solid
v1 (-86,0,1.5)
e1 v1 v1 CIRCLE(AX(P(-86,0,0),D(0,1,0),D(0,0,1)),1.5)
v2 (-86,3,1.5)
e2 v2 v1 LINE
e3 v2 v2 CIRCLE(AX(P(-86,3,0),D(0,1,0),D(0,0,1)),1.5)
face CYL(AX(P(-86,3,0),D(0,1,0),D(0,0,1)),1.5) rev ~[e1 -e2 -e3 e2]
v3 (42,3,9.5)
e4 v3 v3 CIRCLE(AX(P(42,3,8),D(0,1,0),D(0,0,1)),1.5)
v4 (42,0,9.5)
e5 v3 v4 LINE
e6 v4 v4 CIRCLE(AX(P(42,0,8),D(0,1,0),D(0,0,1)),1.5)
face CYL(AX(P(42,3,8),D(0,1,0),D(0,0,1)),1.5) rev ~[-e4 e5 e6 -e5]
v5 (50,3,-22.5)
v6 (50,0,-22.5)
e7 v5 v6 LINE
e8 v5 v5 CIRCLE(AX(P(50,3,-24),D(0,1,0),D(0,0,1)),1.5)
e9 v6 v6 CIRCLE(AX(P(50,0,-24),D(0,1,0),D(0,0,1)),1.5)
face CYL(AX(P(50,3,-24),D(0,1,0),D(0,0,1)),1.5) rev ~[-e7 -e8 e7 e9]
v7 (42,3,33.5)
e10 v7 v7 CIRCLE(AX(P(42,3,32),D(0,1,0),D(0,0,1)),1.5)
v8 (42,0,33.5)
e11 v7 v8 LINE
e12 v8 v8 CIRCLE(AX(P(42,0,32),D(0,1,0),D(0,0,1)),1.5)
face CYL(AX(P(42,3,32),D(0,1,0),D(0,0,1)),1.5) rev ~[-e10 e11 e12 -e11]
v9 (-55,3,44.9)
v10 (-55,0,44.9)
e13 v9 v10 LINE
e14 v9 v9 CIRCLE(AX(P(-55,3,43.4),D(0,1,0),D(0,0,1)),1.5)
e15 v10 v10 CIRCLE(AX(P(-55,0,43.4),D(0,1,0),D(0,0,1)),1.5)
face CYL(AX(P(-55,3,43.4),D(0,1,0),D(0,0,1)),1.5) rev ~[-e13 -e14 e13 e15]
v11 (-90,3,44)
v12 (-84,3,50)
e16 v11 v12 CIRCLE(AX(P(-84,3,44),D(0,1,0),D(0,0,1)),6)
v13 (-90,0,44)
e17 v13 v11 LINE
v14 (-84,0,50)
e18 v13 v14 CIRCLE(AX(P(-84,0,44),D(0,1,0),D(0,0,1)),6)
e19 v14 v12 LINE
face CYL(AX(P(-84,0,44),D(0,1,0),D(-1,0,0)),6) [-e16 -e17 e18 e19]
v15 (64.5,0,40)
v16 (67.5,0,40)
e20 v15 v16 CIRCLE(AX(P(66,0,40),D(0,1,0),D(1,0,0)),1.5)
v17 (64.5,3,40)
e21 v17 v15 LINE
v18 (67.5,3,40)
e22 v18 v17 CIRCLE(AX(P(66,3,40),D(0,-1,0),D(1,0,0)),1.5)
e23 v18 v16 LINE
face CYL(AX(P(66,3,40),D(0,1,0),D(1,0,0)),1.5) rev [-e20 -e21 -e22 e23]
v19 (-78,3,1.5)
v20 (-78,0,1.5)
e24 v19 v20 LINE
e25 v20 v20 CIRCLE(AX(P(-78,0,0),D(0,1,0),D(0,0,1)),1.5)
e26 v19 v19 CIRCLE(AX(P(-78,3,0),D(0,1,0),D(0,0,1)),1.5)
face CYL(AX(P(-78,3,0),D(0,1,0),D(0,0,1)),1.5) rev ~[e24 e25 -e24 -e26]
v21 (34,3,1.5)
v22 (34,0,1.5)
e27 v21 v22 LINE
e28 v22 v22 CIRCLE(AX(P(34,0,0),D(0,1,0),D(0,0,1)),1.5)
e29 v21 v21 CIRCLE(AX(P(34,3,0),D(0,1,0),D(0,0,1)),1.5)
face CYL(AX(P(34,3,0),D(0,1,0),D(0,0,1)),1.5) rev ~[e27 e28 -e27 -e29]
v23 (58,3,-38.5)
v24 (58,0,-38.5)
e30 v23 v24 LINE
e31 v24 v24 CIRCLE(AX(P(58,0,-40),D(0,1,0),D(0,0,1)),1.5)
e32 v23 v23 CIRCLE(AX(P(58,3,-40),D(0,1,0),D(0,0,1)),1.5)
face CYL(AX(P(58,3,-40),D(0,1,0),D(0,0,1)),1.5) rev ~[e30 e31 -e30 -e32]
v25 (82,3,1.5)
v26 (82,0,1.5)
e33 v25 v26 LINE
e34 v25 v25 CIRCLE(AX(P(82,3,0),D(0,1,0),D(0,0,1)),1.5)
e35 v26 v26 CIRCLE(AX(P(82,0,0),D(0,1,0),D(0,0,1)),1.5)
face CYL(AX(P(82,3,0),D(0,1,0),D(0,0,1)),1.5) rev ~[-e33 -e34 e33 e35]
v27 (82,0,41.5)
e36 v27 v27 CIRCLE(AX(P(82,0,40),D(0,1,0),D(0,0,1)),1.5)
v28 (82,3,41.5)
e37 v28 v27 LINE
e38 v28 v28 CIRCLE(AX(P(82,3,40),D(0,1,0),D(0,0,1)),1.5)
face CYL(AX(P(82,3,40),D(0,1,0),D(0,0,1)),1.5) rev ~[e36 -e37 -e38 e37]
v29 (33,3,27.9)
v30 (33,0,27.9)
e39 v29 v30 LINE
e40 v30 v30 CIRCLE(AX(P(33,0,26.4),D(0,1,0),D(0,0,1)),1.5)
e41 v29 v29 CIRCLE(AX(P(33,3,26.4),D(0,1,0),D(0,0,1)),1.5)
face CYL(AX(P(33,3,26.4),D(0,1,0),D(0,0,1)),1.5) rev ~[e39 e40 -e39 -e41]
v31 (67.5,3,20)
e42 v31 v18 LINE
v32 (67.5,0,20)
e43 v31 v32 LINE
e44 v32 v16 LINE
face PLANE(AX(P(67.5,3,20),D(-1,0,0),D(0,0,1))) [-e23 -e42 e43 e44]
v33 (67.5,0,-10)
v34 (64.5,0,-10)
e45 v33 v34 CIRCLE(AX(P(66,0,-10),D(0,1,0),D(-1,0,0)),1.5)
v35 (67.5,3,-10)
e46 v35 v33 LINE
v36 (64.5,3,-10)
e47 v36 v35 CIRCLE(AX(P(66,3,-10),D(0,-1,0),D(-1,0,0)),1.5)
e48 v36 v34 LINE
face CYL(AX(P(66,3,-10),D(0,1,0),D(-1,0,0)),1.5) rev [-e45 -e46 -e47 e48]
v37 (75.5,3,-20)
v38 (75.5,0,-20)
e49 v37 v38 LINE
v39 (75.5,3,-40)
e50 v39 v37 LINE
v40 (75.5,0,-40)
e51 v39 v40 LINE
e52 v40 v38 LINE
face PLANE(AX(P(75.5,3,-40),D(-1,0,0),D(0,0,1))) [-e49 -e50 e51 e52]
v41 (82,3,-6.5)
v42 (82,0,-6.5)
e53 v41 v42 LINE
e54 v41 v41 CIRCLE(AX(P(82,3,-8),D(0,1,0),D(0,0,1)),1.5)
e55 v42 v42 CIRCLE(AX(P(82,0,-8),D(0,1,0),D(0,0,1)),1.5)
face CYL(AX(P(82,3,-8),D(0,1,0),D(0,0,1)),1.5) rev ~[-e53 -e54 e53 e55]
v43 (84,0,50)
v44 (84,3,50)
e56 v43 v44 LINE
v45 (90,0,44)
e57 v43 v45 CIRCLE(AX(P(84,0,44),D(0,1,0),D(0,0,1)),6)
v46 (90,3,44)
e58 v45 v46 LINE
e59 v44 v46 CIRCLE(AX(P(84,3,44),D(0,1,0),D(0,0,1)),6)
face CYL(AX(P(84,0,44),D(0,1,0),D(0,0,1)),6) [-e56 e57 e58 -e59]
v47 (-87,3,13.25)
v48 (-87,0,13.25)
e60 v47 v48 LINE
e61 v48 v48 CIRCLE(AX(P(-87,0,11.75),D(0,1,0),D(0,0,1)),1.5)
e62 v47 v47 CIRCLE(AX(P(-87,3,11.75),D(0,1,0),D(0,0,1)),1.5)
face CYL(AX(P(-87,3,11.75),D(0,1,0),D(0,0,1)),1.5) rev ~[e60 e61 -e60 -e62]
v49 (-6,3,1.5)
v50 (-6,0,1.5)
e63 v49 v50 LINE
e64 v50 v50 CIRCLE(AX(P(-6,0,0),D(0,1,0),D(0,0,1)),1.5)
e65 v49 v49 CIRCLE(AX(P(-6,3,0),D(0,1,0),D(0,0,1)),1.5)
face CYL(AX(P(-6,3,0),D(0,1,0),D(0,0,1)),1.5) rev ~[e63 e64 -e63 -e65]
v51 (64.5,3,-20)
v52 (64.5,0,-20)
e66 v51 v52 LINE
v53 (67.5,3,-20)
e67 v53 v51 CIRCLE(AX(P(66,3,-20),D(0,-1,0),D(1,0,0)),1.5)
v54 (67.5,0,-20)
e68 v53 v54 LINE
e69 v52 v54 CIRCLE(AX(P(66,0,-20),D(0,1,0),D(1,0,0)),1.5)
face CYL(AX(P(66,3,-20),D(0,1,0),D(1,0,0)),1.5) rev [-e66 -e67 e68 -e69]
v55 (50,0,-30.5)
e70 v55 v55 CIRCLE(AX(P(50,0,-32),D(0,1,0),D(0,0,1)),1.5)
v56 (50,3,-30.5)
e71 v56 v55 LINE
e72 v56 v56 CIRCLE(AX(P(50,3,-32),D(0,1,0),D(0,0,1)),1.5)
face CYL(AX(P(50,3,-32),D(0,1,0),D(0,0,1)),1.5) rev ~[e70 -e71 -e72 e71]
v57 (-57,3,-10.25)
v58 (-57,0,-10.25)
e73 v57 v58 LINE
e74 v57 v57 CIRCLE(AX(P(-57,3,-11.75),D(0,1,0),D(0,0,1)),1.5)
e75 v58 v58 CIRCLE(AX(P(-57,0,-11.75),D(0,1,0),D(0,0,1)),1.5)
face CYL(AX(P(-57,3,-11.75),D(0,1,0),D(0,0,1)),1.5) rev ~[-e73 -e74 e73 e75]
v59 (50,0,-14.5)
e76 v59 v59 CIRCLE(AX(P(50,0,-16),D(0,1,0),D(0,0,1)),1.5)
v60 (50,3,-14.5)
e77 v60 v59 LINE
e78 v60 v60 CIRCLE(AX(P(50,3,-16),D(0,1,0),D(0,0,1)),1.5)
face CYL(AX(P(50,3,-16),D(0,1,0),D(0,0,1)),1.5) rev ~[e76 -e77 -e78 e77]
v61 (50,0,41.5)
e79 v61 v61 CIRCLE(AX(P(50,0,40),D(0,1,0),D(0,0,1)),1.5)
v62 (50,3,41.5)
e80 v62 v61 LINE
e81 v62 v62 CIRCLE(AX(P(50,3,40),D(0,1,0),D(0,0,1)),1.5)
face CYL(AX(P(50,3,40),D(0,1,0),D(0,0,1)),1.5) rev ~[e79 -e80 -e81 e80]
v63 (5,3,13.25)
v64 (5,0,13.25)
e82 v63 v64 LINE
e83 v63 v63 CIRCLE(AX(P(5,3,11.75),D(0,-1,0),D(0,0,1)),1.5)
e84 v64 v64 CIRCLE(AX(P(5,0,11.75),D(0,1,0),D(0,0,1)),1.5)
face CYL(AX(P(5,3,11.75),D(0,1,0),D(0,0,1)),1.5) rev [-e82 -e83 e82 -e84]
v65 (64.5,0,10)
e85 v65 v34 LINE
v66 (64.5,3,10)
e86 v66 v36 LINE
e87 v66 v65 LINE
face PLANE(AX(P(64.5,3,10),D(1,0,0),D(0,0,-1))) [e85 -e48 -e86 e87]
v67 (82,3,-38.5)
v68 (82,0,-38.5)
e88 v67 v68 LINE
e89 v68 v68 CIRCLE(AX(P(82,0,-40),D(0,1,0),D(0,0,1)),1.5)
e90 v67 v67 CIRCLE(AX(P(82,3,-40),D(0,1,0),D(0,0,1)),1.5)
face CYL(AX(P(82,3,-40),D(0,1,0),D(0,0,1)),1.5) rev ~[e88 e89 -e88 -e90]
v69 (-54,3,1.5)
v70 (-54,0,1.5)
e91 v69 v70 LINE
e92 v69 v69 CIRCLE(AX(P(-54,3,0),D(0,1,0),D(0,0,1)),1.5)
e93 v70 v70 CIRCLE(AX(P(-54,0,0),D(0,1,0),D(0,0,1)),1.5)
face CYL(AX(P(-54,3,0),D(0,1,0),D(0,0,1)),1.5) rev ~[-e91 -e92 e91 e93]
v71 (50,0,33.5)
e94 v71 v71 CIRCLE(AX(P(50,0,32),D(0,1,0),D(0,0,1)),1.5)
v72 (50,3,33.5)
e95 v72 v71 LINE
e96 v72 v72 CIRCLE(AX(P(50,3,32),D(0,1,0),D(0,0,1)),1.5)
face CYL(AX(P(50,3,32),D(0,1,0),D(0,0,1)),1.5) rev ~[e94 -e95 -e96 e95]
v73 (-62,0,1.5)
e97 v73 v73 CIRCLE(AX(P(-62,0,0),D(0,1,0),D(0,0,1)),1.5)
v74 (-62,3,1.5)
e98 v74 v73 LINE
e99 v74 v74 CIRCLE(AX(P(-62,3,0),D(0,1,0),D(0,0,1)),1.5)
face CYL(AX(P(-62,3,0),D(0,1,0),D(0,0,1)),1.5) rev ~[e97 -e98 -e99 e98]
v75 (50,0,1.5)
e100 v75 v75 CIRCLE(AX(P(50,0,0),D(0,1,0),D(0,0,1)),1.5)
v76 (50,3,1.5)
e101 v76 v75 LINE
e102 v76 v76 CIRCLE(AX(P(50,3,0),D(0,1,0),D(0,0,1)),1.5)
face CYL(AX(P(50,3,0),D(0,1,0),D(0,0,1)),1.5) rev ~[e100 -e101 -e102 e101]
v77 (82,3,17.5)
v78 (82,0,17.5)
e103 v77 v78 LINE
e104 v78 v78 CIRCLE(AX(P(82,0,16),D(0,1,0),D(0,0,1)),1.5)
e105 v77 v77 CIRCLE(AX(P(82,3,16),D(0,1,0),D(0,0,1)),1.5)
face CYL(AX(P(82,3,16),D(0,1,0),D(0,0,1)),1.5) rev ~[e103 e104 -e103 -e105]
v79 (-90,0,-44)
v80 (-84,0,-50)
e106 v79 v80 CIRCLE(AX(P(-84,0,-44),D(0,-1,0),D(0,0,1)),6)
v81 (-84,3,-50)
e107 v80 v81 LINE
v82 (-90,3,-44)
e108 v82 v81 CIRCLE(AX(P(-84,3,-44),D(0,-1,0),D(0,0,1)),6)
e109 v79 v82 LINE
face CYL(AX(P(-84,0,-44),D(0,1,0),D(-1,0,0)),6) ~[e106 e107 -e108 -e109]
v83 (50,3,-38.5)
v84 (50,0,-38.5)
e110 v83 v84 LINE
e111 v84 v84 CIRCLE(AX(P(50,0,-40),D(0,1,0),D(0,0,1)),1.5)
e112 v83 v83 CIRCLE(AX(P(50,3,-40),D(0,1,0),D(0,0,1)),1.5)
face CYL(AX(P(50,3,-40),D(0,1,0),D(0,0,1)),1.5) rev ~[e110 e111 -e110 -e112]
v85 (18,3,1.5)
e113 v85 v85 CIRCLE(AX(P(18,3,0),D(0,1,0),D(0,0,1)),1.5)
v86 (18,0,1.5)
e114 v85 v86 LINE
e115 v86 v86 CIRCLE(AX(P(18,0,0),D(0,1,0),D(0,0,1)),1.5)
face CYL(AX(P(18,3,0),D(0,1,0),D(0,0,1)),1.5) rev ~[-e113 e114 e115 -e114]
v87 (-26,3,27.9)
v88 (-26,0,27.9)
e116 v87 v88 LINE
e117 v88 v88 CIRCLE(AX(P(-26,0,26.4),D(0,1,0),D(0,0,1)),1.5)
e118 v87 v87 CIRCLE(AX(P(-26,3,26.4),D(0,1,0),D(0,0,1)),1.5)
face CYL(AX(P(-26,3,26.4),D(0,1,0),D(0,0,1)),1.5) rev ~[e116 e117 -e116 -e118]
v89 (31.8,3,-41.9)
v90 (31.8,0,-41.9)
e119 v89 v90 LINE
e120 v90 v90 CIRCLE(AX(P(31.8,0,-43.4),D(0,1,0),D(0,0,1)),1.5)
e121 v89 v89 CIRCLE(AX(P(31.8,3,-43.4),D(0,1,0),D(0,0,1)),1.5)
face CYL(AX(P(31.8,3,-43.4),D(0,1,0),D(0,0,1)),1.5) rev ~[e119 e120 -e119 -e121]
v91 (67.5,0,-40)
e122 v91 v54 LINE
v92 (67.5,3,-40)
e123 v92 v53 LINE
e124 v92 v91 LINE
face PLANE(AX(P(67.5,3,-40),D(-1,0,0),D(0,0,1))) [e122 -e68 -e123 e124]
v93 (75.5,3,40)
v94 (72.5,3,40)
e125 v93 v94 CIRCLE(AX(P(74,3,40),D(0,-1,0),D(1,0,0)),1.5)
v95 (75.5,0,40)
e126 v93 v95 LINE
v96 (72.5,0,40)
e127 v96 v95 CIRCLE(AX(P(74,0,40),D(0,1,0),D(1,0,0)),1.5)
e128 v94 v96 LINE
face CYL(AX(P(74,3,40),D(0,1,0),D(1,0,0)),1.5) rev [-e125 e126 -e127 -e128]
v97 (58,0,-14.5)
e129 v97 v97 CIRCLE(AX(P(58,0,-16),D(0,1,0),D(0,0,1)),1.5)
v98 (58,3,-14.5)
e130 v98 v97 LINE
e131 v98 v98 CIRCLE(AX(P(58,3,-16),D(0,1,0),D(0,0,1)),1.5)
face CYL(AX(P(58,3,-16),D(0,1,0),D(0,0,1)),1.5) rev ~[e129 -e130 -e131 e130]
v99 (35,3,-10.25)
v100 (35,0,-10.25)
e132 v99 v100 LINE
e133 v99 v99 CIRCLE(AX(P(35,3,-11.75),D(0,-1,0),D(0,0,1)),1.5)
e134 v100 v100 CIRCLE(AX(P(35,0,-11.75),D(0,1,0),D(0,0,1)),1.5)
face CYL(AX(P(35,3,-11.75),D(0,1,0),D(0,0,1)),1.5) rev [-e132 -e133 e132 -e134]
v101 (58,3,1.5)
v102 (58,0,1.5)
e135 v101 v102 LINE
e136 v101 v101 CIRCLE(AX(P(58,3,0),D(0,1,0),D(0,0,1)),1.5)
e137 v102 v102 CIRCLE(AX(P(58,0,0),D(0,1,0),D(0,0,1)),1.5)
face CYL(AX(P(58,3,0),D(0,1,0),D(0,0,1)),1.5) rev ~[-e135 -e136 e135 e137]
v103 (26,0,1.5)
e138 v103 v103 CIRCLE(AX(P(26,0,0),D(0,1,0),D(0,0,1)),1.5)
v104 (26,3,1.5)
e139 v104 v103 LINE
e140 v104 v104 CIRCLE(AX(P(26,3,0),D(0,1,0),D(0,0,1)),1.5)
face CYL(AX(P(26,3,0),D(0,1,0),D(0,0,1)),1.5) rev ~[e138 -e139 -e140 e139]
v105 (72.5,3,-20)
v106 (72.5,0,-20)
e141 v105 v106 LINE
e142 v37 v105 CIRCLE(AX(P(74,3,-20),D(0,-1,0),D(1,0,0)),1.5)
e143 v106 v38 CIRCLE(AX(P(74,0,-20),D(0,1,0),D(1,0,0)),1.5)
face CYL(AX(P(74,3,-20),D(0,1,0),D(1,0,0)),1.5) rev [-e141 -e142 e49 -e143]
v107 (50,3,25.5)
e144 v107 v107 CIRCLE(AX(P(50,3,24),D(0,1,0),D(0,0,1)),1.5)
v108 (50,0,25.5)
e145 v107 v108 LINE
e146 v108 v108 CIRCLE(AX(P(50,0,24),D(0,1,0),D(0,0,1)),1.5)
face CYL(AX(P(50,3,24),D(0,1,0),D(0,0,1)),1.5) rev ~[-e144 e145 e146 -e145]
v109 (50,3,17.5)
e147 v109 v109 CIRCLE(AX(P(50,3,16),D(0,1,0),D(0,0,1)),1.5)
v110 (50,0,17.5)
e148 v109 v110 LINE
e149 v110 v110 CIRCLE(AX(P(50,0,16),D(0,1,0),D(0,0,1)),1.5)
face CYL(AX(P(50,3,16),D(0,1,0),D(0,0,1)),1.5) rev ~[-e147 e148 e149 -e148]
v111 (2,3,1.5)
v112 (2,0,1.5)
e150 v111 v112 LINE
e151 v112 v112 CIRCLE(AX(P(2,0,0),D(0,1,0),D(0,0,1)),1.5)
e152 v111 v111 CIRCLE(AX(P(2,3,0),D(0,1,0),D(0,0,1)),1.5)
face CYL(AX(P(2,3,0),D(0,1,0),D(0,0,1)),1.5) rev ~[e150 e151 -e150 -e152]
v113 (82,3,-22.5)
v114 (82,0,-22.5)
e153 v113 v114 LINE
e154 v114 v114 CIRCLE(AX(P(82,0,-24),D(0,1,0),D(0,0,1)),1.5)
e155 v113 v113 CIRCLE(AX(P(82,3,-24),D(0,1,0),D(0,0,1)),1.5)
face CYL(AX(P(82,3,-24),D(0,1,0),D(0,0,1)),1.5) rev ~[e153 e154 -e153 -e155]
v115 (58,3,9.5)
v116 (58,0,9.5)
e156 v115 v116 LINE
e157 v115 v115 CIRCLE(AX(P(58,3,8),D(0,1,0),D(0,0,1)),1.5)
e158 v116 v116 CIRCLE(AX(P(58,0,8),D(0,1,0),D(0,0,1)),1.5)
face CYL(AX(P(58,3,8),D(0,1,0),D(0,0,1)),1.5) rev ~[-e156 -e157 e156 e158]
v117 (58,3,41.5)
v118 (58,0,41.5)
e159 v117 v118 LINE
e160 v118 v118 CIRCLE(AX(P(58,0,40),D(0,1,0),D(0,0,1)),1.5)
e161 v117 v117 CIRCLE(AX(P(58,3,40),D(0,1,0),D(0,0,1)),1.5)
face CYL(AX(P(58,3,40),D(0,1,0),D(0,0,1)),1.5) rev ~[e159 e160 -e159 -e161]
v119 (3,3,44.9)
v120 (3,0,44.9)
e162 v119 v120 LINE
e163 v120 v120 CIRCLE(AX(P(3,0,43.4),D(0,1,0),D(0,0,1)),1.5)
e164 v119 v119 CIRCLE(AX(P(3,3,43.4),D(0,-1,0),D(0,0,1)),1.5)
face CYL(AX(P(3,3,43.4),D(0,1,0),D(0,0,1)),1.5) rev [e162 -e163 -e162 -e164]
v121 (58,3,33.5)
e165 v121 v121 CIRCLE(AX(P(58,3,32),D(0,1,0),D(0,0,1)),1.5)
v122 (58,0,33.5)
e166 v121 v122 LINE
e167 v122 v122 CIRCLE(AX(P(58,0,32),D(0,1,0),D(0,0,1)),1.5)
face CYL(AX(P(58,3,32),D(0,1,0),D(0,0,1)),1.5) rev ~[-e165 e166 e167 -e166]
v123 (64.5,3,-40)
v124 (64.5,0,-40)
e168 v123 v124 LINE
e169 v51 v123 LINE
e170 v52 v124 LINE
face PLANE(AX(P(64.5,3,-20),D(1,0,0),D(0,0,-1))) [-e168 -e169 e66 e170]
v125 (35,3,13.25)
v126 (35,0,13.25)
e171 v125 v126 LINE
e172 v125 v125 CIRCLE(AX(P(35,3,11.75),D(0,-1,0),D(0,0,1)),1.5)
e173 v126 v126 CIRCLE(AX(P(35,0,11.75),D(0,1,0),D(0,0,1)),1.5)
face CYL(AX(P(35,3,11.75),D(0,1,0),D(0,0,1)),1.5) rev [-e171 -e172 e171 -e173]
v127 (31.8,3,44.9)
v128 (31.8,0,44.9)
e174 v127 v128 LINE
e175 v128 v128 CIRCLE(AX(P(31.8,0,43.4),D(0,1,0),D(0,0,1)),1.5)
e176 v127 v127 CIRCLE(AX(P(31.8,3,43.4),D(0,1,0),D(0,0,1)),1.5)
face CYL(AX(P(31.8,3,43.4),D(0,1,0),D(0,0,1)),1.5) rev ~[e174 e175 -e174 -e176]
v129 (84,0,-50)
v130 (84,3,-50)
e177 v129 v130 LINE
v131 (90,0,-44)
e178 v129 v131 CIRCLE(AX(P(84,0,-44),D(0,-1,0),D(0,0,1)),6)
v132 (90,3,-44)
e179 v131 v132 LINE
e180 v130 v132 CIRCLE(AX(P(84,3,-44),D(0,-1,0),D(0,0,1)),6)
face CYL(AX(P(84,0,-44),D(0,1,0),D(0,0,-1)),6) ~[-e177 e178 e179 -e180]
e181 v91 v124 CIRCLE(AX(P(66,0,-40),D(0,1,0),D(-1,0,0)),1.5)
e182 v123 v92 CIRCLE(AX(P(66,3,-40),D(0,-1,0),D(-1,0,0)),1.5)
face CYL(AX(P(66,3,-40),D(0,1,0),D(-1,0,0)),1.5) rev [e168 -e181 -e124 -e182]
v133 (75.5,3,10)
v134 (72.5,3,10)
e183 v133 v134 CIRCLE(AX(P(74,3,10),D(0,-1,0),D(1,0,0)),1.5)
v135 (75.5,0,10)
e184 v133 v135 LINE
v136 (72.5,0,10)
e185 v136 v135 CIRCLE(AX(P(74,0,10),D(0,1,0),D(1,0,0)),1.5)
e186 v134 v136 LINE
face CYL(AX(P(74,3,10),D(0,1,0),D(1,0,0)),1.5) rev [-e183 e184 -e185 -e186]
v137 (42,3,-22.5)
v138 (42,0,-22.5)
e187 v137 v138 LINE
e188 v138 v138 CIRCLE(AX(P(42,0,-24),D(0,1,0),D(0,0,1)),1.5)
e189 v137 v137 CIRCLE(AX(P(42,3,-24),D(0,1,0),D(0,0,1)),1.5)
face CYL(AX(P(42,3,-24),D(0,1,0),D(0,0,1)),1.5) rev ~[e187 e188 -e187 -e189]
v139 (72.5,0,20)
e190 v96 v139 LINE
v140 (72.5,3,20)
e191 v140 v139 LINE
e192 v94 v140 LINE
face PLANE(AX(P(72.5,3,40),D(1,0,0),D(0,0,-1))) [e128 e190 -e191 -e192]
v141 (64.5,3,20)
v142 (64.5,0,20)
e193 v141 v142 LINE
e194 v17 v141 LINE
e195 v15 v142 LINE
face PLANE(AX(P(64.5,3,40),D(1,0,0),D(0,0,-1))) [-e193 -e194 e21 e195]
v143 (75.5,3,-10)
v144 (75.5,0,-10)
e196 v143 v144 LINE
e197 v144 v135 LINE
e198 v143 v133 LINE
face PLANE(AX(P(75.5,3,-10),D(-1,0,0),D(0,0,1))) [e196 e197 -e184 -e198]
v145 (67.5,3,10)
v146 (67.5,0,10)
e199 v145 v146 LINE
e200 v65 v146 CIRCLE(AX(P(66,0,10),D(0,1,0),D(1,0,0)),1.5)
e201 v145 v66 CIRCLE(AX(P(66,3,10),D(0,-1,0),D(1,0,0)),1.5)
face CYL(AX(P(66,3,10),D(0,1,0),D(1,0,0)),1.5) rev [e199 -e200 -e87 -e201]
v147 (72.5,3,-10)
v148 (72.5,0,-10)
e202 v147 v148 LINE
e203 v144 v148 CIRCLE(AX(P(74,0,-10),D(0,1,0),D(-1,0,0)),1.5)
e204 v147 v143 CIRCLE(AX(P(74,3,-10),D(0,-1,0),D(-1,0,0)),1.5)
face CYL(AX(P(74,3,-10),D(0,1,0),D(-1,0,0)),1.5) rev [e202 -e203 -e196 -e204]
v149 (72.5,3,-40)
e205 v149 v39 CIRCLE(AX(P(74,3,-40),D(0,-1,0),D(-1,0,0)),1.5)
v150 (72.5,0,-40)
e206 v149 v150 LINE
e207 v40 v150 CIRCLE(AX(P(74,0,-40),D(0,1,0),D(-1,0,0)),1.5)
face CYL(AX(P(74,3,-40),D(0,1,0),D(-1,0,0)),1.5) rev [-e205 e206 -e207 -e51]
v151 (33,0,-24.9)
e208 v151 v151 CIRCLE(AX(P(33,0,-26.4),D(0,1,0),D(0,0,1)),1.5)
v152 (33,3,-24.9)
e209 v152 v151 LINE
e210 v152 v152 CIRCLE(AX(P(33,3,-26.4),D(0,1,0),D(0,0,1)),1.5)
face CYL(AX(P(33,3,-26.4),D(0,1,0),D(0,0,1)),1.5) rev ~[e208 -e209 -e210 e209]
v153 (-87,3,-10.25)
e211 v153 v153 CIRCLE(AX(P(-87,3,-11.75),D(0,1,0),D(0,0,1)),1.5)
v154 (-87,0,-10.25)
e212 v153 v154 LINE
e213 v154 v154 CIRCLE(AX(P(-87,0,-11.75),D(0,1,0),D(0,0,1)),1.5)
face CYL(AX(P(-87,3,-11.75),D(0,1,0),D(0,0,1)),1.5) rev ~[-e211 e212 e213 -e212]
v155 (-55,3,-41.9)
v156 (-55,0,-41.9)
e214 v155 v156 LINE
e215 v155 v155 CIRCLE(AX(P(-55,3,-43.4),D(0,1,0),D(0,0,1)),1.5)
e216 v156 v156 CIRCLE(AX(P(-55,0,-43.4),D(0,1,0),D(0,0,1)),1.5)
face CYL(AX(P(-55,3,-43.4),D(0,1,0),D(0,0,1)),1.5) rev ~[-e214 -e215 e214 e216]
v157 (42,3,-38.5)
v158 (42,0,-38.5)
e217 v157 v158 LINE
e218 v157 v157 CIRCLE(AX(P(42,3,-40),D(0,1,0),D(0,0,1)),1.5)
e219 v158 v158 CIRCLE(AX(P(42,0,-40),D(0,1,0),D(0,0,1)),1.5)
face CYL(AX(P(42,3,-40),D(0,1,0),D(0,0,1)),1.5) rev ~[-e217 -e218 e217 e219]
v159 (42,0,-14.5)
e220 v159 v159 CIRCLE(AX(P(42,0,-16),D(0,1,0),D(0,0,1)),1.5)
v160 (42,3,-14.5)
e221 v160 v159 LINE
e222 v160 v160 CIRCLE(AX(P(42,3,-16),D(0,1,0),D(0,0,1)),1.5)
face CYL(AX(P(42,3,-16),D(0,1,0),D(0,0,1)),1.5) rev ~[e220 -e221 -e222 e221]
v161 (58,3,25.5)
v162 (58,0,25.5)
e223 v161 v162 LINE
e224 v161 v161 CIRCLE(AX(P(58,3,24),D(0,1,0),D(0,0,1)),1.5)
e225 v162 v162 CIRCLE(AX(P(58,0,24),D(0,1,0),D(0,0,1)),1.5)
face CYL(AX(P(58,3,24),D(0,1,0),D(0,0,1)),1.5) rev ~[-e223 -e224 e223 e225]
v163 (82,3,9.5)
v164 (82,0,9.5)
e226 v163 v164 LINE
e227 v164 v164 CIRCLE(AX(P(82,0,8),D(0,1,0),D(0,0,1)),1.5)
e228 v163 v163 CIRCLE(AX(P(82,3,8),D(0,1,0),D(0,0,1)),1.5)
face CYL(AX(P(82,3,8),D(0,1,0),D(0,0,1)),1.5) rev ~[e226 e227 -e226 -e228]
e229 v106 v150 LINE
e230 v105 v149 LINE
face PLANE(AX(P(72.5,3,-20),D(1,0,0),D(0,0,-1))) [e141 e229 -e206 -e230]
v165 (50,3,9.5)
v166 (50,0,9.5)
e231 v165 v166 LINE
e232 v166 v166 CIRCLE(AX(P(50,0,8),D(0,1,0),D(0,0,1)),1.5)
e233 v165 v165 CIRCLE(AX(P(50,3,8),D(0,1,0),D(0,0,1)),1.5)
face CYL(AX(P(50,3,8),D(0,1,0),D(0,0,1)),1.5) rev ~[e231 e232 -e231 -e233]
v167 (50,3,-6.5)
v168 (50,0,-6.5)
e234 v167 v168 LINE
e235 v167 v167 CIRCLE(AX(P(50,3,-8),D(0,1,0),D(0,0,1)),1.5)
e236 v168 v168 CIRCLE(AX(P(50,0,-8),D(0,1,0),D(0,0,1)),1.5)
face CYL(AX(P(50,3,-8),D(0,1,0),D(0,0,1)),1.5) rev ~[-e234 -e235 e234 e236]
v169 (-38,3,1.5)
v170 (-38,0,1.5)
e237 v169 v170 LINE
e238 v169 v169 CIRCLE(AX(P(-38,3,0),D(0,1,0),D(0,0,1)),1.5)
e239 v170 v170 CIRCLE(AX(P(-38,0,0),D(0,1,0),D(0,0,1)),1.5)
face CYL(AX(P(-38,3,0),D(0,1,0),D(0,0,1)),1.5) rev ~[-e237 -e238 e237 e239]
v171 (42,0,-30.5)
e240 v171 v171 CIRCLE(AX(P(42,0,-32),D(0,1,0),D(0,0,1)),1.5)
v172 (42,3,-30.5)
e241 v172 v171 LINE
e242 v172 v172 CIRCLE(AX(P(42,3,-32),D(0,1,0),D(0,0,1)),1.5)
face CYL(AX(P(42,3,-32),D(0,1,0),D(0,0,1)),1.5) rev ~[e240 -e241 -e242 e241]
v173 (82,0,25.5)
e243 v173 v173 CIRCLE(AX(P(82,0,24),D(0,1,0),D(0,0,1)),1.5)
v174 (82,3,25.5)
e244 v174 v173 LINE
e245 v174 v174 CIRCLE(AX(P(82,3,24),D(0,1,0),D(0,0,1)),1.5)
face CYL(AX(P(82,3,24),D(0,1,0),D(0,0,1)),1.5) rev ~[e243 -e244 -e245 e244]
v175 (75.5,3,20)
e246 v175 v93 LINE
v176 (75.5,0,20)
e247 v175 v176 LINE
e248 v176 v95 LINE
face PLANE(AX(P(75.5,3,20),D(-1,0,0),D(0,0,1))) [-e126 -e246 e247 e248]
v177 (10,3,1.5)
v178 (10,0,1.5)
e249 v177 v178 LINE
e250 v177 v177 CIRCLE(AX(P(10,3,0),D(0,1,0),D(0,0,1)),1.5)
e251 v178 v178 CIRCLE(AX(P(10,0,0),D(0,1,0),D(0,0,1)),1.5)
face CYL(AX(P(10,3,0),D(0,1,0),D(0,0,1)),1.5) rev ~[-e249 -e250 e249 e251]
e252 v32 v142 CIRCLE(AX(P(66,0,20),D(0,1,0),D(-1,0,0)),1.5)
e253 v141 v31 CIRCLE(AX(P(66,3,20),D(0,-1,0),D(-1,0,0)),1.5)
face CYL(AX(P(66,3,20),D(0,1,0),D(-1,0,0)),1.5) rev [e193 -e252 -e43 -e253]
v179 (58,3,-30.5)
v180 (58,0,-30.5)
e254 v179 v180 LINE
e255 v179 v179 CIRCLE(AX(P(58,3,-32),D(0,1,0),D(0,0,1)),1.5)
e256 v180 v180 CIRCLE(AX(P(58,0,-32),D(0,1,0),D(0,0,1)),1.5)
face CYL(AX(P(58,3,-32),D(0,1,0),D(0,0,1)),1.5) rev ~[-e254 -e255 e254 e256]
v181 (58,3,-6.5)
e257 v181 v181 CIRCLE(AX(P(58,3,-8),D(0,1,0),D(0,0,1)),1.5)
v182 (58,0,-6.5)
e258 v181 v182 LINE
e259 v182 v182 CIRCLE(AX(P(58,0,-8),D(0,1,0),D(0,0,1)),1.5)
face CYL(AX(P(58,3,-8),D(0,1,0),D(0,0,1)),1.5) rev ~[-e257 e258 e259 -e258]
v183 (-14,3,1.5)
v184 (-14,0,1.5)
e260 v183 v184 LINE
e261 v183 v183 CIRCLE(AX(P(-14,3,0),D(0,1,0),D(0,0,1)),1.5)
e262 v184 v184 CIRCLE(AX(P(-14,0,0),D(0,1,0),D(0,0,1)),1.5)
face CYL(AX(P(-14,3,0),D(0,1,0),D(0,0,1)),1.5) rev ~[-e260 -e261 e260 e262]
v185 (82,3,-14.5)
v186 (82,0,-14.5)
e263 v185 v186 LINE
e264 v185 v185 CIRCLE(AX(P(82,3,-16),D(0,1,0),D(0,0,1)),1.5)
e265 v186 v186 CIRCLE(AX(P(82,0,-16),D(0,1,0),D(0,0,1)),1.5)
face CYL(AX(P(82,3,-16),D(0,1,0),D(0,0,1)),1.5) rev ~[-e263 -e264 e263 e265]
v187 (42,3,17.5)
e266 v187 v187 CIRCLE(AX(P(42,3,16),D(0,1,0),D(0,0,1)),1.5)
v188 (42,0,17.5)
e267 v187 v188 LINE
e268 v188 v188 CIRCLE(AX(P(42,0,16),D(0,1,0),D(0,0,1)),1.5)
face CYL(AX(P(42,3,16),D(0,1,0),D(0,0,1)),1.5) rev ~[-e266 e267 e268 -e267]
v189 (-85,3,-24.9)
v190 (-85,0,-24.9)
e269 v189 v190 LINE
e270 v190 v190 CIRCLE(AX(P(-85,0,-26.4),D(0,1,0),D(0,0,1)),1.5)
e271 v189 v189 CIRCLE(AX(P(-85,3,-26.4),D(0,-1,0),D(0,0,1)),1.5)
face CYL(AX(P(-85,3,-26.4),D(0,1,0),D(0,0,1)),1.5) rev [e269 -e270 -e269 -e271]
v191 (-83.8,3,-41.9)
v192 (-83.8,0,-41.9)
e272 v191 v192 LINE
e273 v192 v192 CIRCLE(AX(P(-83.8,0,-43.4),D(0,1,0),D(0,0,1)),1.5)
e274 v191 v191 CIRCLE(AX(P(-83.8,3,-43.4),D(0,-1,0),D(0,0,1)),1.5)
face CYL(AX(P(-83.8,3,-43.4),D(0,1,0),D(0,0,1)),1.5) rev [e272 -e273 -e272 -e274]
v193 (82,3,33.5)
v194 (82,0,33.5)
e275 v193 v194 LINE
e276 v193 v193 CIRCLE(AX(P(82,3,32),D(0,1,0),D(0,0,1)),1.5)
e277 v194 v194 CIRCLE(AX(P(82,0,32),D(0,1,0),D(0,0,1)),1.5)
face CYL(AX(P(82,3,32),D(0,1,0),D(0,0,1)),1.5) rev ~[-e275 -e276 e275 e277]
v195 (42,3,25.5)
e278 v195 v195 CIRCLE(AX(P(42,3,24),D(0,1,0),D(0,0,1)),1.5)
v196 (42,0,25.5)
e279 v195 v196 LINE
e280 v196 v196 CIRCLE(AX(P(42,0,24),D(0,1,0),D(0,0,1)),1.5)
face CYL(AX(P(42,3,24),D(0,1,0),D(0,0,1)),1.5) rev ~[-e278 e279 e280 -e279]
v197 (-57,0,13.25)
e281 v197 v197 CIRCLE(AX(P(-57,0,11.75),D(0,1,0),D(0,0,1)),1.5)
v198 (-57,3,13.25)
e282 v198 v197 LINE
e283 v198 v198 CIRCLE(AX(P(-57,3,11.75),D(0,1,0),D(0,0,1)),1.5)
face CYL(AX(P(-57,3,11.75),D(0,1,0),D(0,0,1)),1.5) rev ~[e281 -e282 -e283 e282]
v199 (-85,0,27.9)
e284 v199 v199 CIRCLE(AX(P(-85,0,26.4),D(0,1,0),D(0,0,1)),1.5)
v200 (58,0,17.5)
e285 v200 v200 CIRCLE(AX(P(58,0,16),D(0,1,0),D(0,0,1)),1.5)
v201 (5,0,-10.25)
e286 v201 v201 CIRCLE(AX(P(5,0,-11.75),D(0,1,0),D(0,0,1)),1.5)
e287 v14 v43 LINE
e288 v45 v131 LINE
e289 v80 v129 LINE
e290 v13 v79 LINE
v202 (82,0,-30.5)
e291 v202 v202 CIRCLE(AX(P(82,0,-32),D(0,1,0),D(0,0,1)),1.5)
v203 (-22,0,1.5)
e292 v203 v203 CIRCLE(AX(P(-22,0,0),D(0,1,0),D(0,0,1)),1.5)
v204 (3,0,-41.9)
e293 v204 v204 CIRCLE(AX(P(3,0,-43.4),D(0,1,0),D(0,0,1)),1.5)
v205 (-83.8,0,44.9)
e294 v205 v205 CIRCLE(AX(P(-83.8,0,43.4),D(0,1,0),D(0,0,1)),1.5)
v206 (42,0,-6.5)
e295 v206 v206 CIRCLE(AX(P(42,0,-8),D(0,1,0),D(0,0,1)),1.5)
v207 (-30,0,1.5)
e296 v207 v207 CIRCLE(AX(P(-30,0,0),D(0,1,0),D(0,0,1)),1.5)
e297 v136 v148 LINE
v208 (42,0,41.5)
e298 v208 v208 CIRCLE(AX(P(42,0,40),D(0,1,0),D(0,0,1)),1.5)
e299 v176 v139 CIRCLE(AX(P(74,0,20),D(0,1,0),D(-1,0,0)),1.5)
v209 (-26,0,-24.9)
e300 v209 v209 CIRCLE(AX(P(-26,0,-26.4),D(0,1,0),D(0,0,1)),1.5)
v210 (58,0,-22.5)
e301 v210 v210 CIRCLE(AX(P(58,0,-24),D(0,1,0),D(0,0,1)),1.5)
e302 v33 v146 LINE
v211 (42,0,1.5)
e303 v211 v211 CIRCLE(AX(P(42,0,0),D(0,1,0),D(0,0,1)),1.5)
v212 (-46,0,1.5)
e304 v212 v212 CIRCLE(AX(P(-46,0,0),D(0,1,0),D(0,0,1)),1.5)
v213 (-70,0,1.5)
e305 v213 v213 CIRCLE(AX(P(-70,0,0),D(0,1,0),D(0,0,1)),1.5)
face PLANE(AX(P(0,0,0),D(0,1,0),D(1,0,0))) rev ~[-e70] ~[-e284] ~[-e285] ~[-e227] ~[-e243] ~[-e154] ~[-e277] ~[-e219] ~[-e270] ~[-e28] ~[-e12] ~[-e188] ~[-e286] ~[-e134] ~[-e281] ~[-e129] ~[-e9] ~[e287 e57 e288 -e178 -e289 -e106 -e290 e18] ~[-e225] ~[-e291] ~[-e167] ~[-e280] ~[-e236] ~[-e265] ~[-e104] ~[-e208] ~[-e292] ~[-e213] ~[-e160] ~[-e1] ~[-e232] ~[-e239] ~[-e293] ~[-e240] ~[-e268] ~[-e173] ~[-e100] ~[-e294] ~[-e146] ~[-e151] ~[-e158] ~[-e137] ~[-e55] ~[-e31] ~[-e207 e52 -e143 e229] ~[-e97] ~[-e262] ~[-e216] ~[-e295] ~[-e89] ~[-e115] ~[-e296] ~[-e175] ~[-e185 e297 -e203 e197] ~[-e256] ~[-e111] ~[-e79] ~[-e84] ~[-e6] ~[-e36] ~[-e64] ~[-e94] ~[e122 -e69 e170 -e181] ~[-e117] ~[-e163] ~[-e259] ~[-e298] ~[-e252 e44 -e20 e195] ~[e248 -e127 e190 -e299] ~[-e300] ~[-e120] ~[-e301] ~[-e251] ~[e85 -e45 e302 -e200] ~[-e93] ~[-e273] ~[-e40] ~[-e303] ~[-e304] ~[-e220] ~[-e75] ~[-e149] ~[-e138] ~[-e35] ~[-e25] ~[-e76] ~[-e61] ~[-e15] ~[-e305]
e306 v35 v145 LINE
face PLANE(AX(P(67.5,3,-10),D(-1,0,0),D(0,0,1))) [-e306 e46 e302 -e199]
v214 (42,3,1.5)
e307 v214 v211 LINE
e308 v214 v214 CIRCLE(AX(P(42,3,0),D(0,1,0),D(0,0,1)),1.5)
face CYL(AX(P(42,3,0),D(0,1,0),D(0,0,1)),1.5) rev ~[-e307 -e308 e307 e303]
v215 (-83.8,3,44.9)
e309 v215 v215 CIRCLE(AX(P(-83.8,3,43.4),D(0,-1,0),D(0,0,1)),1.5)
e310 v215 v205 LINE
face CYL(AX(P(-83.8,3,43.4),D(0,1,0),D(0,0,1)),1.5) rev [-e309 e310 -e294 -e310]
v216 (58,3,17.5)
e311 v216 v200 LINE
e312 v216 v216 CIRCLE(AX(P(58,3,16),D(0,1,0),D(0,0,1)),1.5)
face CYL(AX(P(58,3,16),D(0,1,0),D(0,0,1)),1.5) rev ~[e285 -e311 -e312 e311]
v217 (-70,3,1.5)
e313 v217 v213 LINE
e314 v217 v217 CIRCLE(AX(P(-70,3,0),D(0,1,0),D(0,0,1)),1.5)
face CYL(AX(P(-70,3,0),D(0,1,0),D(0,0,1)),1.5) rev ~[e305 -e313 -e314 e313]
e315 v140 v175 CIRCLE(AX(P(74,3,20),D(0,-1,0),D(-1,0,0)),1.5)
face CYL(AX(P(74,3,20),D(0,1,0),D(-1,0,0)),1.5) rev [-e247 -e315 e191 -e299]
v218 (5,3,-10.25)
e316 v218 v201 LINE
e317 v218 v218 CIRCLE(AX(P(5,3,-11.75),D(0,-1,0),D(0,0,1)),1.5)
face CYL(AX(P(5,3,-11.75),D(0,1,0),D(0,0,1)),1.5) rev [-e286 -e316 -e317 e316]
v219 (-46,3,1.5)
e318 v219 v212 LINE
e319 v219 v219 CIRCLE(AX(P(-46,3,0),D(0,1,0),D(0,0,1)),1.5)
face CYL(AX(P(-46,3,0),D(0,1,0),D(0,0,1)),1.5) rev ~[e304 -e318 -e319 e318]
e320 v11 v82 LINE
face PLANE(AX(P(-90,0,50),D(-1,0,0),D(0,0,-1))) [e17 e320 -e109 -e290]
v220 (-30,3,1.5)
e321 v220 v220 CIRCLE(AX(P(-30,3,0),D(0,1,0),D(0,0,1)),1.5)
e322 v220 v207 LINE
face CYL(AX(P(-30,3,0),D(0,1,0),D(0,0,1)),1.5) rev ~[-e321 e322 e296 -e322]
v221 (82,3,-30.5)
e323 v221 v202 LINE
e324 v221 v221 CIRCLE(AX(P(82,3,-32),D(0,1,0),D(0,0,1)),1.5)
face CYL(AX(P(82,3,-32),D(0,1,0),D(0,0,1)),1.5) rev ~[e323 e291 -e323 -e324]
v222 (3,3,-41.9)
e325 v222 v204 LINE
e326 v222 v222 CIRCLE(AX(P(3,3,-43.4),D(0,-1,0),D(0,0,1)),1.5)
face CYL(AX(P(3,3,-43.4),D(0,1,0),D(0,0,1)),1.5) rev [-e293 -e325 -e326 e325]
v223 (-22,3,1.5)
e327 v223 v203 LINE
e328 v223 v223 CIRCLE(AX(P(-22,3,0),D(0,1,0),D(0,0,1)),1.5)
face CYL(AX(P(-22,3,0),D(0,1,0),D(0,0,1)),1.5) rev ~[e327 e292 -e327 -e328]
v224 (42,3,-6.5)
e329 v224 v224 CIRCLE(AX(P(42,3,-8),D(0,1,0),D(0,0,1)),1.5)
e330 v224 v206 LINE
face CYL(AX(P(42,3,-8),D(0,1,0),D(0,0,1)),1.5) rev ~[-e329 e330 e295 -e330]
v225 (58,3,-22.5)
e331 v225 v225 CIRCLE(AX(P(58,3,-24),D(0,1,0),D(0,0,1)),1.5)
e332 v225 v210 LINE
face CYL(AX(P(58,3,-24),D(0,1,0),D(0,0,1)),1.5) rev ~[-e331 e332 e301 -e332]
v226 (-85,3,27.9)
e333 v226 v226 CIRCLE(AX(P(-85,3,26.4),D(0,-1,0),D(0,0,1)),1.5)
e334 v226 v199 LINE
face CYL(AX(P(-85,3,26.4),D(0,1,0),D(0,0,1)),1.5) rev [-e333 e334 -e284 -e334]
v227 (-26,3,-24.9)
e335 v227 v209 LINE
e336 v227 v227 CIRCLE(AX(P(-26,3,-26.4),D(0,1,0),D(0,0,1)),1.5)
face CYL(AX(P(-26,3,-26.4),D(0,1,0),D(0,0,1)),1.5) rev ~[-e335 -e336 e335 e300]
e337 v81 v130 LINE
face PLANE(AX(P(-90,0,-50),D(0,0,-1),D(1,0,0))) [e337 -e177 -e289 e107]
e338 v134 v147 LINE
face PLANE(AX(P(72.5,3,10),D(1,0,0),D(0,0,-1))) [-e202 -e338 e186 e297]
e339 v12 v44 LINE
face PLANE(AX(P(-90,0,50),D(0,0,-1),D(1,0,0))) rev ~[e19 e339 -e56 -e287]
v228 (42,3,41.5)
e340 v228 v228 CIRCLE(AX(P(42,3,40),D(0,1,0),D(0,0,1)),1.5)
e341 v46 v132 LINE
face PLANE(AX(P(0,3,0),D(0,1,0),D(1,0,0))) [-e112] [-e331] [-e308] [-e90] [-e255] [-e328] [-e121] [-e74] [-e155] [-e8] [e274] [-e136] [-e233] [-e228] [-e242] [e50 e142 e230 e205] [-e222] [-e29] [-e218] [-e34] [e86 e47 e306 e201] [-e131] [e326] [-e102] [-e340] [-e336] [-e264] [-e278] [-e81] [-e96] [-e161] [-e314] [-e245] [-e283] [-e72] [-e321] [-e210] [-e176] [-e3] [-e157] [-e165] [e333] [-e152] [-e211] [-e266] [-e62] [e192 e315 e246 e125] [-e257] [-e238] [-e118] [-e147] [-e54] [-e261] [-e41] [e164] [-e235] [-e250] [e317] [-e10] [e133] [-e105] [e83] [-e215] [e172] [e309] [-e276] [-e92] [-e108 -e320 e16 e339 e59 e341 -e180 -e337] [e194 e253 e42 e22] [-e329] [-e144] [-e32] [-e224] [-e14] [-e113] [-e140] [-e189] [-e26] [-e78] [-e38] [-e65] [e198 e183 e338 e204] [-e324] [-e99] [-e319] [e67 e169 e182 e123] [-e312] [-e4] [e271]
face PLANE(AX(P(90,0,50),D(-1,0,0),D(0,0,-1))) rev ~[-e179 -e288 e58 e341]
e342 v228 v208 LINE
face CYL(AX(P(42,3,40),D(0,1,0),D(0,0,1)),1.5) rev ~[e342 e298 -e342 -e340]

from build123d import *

# Parameters (mm, degrees)
SKETCH2_W           = 180
SKETCH2_H           = 100
BOSS_EXTRUDE1_DEPTH = 3
SKETCH3_R           = 1.5
CUT_EXTRUDE1_DEPTH  = 104
CUT_EXTRUDE2_DEPTH  = 104
SKETCH7_R           = 1.5
CUT_EXTRUDE3_DEPTH  = 104
FILLET1_R           = 6


with BuildPart() as part:
    # Sketch2 → Boss-Extrude1 (new body)
    with BuildSketch(Plane(origin=(0, 0, 0), x_dir=(1, 0, 0), z_dir=(0, 1, 0))):
        Rectangle(SKETCH2_W, SKETCH2_H)
    extrude(amount=BOSS_EXTRUDE1_DEPTH)

    # Sketch3 → Cut-Extrude1 (cut, through all)
    with BuildSketch(Plane(origin=(0, 3, 0), x_dir=(1, 0, 0), z_dir=(0, 1, 0))):
        with Locations(Location((-57, 11.75, 0), (0, 0, 270))):
            Circle(SKETCH3_R)
        with Locations(Location((-87, 11.75, 0), (0, 0, 270))):
            Circle(SKETCH3_R)
        with Locations(Location((-87, -11.75, 0), (0, 0, 270))):
            Circle(SKETCH3_R)
        with Locations(Location((-57, -11.75, 0), (0, 0, 270))):
            Circle(SKETCH3_R)
        with Locations(Location((-55, 43.4, 0), (0, 0, 270))):
            Circle(SKETCH3_R)
        with Locations(Location((31.8, 43.4, 0), (0, 0, 270))):
            Circle(SKETCH3_R)
        with Locations(Location((31.8, -43.4, 0), (0, 0, 270))):
            Circle(SKETCH3_R)
        with Locations(Location((-55, -43.4, 0), (0, 0, 270))):
            Circle(SKETCH3_R)
        with Locations(Location((-26, -26.4, 0), (0, 0, 270))):
            Circle(SKETCH3_R)
        with Locations(Location((33, -26.4, 0), (0, 0, 270))):
            Circle(SKETCH3_R)
        with Locations(Location((33, 26.4, 0), (0, 0, 270))):
            Circle(SKETCH3_R)
        with Locations(Location((-26, 26.4, 0), (0, 0, 270))):
            Circle(SKETCH3_R)
    cut_extrude1 = extrude(amount=-CUT_EXTRUDE1_DEPTH, mode=Mode.SUBTRACT)

    # Sketch6 → Cut-Extrude2 (cut, through all)
    with BuildSketch(Plane(origin=(0, 3, 0), x_dir=(1, 0, 0), z_dir=(0, 1, 0))):
        with BuildLine():
            Line((75.5, 10), (75.5, -10))
            ThreePointArc((75.5, -10), (74, -11.5), (72.5, -10))
            Line((72.5, -10), (72.5, 10))
            ThreePointArc((72.5, 10), (74, 11.5), (75.5, 10))
        make_face()
        with BuildLine():
            Line((72.5, -40), (72.5, -20))
            ThreePointArc((72.5, -20), (74, -18.5), (75.5, -20))
            Line((75.5, -20), (75.5, -40))
            ThreePointArc((75.5, -40), (74, -41.5), (72.5, -40))
        make_face()
        with BuildLine():
            Line((72.5, 20), (72.5, 40))
            ThreePointArc((72.5, 40), (74, 41.5), (75.5, 40))
            Line((75.5, 40), (75.5, 20))
            ThreePointArc((75.5, 20), (74, 18.5), (72.5, 20))
        make_face()
        with BuildLine():
            Line((67.5, 10), (67.5, -10))
            ThreePointArc((67.5, -10), (66, -11.5), (64.5, -10))
            Line((64.5, -10), (64.5, 10))
            ThreePointArc((64.5, 10), (66, 11.5), (67.5, 10))
        make_face()
        with BuildLine():
            Line((64.5, -40), (64.5, -20))
            ThreePointArc((64.5, -20), (66, -18.5), (67.5, -20))
            Line((67.5, -20), (67.5, -40))
            ThreePointArc((67.5, -40), (66, -41.5), (64.5, -40))
        make_face()
        with BuildLine():
            Line((64.5, 20), (64.5, 40))
            ThreePointArc((64.5, 40), (66, 41.5), (67.5, 40))
            Line((67.5, 40), (67.5, 20))
            ThreePointArc((67.5, 20), (66, 18.5), (64.5, 20))
        make_face()
    extrude(amount=-CUT_EXTRUDE2_DEPTH, mode=Mode.SUBTRACT)

    # Sketch7 → Cut-Extrude3 (cut, through all)
    with BuildSketch(Plane(origin=(0, 3, 0), x_dir=(1, 0, 0), z_dir=(0, 1, 0))):
        with Locations(Location((82, 0, 0), (0, 0, 270))):
            Circle(SKETCH7_R)
        with Locations(Location((58, 0, 0), (0, 0, 270))):
            Circle(SKETCH7_R)
        with Locations(Location((50, 0, 0), (0, 0, 270))):
            Circle(SKETCH7_R)
        with Locations(Location((42, 0, 0), (0, 0, 270))):
            Circle(SKETCH7_R)
        with Locations(Location((34, 0, 0), (0, 0, 270))):
            Circle(SKETCH7_R)
        with Locations(Location((26, 0, 0), (0, 0, 270))):
            Circle(SKETCH7_R)
        with Locations(Location((18, 0, 0), (0, 0, 270))):
            Circle(SKETCH7_R)
        with Locations(Location((10, 0, 0), (0, 0, 270))):
            Circle(SKETCH7_R)
        with Locations(Location((2, 0, 0), (0, 0, 270))):
            Circle(SKETCH7_R)
        with Locations(Location((-6, 0, 0), (0, 0, 270))):
            Circle(SKETCH7_R)
        with Locations(Location((-14, 0, 0), (0, 0, 270))):
            Circle(SKETCH7_R)
        with Locations(Location((-22, 0, 0), (0, 0, 270))):
            Circle(SKETCH7_R)
        with Locations(Location((-30, 0, 0), (0, 0, 270))):
            Circle(SKETCH7_R)
        with Locations(Location((-38, 0, 0), (0, 0, 270))):
            Circle(SKETCH7_R)
        with Locations(Location((-46, 0, 0), (0, 0, 270))):
            Circle(SKETCH7_R)
        with Locations(Location((-54, 0, 0), (0, 0, 270))):
            Circle(SKETCH7_R)
        with Locations(Location((-62, 0, 0), (0, 0, 270))):
            Circle(SKETCH7_R)
        with Locations(Location((-70, 0, 0), (0, 0, 270))):
            Circle(SKETCH7_R)
        with Locations(Location((-78, 0, 0), (0, 0, 270))):
            Circle(SKETCH7_R)
        with Locations(Location((-86, 0, 0), (0, 0, 270))):
            Circle(SKETCH7_R)
        with Locations(Location((42, 8, 0), (0, 0, 270))):
            Circle(SKETCH7_R)
        with Locations(Location((50, 8, 0), (0, 0, 270))):
            Circle(SKETCH7_R)
        with Locations(Location((58, 8, 0), (0, 0, 270))):
            Circle(SKETCH7_R)
        with Locations(Location((82, 8, 0), (0, 0, 270))):
            Circle(SKETCH7_R)
        with Locations(Location((42, 16, 0), (0, 0, 270))):
            Circle(SKETCH7_R)
        with Locations(Location((50, 16, 0), (0, 0, 270))):
            Circle(SKETCH7_R)
        with Locations(Location((58, 16, 0), (0, 0, 270))):
            Circle(SKETCH7_R)
        with Locations(Location((82, 16, 0), (0, 0, 270))):
            Circle(SKETCH7_R)
        with Locations(Location((42, 24, 0), (0, 0, 270))):
            Circle(SKETCH7_R)
        with Locations(Location((50, 24, 0), (0, 0, 270))):
            Circle(SKETCH7_R)
        with Locations(Location((58, 24, 0), (0, 0, 270))):
            Circle(SKETCH7_R)
        with Locations(Location((82, 24, 0), (0, 0, 270))):
            Circle(SKETCH7_R)
        with Locations(Location((42, 32, 0), (0, 0, 270))):
            Circle(SKETCH7_R)
        with Locations(Location((50, 32, 0), (0, 0, 270))):
            Circle(SKETCH7_R)
        with Locations(Location((58, 32, 0), (0, 0, 270))):
            Circle(SKETCH7_R)
        with Locations(Location((82, 32, 0), (0, 0, 270))):
            Circle(SKETCH7_R)
        with Locations(Location((42, 40, 0), (0, 0, 270))):
            Circle(SKETCH7_R)
        with Locations(Location((50, 40, 0), (0, 0, 270))):
            Circle(SKETCH7_R)
        with Locations(Location((58, 40, 0), (0, 0, 270))):
            Circle(SKETCH7_R)
        with Locations(Location((82, 40, 0), (0, 0, 270))):
            Circle(SKETCH7_R)
        with Locations(Location((42, -8, 0), (0, 0, 270))):
            Circle(SKETCH7_R)
        with Locations(Location((50, -8, 0), (0, 0, 270))):
            Circle(SKETCH7_R)
        with Locations(Location((58, -8, 0), (0, 0, 270))):
            Circle(SKETCH7_R)
        with Locations(Location((82, -8, 0), (0, 0, 270))):
            Circle(SKETCH7_R)
        with Locations(Location((42, -16, 0), (0, 0, 270))):
            Circle(SKETCH7_R)
        with Locations(Location((50, -16, 0), (0, 0, 270))):
            Circle(SKETCH7_R)
        with Locations(Location((58, -16, 0), (0, 0, 270))):
            Circle(SKETCH7_R)
        with Locations(Location((82, -16, 0), (0, 0, 270))):
            Circle(SKETCH7_R)
        with Locations(Location((42, -24, 0), (0, 0, 270))):
            Circle(SKETCH7_R)
        with Locations(Location((50, -24, 0), (0, 0, 270))):
            Circle(SKETCH7_R)
        with Locations(Location((58, -24, 0), (0, 0, 270))):
            Circle(SKETCH7_R)
        with Locations(Location((82, -24, 0), (0, 0, 270))):
            Circle(SKETCH7_R)
        with Locations(Location((42, -32, 0), (0, 0, 270))):
            Circle(SKETCH7_R)
        with Locations(Location((50, -32, 0), (0, 0, 270))):
            Circle(SKETCH7_R)
        with Locations(Location((58, -32, 0), (0, 0, 270))):
            Circle(SKETCH7_R)
        with Locations(Location((82, -32, 0), (0, 0, 270))):
            Circle(SKETCH7_R)
        with Locations(Location((42, -40, 0), (0, 0, 270))):
            Circle(SKETCH7_R)
        with Locations(Location((50, -40, 0), (0, 0, 270))):
            Circle(SKETCH7_R)
        with Locations(Location((58, -40, 0), (0, 0, 270))):
            Circle(SKETCH7_R)
        with Locations(Location((82, -40, 0), (0, 0, 270))):
            Circle(SKETCH7_R)
    extrude(amount=-CUT_EXTRUDE3_DEPTH, mode=Mode.SUBTRACT)

    # Mirror2: Cut-Extrude1 across plane
    add(cut_extrude1.mirror(Plane.ZY.offset(26)), mode=Mode.SUBTRACT)

    # Fillet1
    fillet1_edges = [part.edges().sort_by_distance(p)[0] for p in [
        (-90, 1.5, -50),
        (90, 1.5, -50),
        (90, 1.5, 50),
        (-90, 1.5, 50),
    ]]
    fillet(fillet1_edges, radius=FILLET1_R)


solid = part.part
